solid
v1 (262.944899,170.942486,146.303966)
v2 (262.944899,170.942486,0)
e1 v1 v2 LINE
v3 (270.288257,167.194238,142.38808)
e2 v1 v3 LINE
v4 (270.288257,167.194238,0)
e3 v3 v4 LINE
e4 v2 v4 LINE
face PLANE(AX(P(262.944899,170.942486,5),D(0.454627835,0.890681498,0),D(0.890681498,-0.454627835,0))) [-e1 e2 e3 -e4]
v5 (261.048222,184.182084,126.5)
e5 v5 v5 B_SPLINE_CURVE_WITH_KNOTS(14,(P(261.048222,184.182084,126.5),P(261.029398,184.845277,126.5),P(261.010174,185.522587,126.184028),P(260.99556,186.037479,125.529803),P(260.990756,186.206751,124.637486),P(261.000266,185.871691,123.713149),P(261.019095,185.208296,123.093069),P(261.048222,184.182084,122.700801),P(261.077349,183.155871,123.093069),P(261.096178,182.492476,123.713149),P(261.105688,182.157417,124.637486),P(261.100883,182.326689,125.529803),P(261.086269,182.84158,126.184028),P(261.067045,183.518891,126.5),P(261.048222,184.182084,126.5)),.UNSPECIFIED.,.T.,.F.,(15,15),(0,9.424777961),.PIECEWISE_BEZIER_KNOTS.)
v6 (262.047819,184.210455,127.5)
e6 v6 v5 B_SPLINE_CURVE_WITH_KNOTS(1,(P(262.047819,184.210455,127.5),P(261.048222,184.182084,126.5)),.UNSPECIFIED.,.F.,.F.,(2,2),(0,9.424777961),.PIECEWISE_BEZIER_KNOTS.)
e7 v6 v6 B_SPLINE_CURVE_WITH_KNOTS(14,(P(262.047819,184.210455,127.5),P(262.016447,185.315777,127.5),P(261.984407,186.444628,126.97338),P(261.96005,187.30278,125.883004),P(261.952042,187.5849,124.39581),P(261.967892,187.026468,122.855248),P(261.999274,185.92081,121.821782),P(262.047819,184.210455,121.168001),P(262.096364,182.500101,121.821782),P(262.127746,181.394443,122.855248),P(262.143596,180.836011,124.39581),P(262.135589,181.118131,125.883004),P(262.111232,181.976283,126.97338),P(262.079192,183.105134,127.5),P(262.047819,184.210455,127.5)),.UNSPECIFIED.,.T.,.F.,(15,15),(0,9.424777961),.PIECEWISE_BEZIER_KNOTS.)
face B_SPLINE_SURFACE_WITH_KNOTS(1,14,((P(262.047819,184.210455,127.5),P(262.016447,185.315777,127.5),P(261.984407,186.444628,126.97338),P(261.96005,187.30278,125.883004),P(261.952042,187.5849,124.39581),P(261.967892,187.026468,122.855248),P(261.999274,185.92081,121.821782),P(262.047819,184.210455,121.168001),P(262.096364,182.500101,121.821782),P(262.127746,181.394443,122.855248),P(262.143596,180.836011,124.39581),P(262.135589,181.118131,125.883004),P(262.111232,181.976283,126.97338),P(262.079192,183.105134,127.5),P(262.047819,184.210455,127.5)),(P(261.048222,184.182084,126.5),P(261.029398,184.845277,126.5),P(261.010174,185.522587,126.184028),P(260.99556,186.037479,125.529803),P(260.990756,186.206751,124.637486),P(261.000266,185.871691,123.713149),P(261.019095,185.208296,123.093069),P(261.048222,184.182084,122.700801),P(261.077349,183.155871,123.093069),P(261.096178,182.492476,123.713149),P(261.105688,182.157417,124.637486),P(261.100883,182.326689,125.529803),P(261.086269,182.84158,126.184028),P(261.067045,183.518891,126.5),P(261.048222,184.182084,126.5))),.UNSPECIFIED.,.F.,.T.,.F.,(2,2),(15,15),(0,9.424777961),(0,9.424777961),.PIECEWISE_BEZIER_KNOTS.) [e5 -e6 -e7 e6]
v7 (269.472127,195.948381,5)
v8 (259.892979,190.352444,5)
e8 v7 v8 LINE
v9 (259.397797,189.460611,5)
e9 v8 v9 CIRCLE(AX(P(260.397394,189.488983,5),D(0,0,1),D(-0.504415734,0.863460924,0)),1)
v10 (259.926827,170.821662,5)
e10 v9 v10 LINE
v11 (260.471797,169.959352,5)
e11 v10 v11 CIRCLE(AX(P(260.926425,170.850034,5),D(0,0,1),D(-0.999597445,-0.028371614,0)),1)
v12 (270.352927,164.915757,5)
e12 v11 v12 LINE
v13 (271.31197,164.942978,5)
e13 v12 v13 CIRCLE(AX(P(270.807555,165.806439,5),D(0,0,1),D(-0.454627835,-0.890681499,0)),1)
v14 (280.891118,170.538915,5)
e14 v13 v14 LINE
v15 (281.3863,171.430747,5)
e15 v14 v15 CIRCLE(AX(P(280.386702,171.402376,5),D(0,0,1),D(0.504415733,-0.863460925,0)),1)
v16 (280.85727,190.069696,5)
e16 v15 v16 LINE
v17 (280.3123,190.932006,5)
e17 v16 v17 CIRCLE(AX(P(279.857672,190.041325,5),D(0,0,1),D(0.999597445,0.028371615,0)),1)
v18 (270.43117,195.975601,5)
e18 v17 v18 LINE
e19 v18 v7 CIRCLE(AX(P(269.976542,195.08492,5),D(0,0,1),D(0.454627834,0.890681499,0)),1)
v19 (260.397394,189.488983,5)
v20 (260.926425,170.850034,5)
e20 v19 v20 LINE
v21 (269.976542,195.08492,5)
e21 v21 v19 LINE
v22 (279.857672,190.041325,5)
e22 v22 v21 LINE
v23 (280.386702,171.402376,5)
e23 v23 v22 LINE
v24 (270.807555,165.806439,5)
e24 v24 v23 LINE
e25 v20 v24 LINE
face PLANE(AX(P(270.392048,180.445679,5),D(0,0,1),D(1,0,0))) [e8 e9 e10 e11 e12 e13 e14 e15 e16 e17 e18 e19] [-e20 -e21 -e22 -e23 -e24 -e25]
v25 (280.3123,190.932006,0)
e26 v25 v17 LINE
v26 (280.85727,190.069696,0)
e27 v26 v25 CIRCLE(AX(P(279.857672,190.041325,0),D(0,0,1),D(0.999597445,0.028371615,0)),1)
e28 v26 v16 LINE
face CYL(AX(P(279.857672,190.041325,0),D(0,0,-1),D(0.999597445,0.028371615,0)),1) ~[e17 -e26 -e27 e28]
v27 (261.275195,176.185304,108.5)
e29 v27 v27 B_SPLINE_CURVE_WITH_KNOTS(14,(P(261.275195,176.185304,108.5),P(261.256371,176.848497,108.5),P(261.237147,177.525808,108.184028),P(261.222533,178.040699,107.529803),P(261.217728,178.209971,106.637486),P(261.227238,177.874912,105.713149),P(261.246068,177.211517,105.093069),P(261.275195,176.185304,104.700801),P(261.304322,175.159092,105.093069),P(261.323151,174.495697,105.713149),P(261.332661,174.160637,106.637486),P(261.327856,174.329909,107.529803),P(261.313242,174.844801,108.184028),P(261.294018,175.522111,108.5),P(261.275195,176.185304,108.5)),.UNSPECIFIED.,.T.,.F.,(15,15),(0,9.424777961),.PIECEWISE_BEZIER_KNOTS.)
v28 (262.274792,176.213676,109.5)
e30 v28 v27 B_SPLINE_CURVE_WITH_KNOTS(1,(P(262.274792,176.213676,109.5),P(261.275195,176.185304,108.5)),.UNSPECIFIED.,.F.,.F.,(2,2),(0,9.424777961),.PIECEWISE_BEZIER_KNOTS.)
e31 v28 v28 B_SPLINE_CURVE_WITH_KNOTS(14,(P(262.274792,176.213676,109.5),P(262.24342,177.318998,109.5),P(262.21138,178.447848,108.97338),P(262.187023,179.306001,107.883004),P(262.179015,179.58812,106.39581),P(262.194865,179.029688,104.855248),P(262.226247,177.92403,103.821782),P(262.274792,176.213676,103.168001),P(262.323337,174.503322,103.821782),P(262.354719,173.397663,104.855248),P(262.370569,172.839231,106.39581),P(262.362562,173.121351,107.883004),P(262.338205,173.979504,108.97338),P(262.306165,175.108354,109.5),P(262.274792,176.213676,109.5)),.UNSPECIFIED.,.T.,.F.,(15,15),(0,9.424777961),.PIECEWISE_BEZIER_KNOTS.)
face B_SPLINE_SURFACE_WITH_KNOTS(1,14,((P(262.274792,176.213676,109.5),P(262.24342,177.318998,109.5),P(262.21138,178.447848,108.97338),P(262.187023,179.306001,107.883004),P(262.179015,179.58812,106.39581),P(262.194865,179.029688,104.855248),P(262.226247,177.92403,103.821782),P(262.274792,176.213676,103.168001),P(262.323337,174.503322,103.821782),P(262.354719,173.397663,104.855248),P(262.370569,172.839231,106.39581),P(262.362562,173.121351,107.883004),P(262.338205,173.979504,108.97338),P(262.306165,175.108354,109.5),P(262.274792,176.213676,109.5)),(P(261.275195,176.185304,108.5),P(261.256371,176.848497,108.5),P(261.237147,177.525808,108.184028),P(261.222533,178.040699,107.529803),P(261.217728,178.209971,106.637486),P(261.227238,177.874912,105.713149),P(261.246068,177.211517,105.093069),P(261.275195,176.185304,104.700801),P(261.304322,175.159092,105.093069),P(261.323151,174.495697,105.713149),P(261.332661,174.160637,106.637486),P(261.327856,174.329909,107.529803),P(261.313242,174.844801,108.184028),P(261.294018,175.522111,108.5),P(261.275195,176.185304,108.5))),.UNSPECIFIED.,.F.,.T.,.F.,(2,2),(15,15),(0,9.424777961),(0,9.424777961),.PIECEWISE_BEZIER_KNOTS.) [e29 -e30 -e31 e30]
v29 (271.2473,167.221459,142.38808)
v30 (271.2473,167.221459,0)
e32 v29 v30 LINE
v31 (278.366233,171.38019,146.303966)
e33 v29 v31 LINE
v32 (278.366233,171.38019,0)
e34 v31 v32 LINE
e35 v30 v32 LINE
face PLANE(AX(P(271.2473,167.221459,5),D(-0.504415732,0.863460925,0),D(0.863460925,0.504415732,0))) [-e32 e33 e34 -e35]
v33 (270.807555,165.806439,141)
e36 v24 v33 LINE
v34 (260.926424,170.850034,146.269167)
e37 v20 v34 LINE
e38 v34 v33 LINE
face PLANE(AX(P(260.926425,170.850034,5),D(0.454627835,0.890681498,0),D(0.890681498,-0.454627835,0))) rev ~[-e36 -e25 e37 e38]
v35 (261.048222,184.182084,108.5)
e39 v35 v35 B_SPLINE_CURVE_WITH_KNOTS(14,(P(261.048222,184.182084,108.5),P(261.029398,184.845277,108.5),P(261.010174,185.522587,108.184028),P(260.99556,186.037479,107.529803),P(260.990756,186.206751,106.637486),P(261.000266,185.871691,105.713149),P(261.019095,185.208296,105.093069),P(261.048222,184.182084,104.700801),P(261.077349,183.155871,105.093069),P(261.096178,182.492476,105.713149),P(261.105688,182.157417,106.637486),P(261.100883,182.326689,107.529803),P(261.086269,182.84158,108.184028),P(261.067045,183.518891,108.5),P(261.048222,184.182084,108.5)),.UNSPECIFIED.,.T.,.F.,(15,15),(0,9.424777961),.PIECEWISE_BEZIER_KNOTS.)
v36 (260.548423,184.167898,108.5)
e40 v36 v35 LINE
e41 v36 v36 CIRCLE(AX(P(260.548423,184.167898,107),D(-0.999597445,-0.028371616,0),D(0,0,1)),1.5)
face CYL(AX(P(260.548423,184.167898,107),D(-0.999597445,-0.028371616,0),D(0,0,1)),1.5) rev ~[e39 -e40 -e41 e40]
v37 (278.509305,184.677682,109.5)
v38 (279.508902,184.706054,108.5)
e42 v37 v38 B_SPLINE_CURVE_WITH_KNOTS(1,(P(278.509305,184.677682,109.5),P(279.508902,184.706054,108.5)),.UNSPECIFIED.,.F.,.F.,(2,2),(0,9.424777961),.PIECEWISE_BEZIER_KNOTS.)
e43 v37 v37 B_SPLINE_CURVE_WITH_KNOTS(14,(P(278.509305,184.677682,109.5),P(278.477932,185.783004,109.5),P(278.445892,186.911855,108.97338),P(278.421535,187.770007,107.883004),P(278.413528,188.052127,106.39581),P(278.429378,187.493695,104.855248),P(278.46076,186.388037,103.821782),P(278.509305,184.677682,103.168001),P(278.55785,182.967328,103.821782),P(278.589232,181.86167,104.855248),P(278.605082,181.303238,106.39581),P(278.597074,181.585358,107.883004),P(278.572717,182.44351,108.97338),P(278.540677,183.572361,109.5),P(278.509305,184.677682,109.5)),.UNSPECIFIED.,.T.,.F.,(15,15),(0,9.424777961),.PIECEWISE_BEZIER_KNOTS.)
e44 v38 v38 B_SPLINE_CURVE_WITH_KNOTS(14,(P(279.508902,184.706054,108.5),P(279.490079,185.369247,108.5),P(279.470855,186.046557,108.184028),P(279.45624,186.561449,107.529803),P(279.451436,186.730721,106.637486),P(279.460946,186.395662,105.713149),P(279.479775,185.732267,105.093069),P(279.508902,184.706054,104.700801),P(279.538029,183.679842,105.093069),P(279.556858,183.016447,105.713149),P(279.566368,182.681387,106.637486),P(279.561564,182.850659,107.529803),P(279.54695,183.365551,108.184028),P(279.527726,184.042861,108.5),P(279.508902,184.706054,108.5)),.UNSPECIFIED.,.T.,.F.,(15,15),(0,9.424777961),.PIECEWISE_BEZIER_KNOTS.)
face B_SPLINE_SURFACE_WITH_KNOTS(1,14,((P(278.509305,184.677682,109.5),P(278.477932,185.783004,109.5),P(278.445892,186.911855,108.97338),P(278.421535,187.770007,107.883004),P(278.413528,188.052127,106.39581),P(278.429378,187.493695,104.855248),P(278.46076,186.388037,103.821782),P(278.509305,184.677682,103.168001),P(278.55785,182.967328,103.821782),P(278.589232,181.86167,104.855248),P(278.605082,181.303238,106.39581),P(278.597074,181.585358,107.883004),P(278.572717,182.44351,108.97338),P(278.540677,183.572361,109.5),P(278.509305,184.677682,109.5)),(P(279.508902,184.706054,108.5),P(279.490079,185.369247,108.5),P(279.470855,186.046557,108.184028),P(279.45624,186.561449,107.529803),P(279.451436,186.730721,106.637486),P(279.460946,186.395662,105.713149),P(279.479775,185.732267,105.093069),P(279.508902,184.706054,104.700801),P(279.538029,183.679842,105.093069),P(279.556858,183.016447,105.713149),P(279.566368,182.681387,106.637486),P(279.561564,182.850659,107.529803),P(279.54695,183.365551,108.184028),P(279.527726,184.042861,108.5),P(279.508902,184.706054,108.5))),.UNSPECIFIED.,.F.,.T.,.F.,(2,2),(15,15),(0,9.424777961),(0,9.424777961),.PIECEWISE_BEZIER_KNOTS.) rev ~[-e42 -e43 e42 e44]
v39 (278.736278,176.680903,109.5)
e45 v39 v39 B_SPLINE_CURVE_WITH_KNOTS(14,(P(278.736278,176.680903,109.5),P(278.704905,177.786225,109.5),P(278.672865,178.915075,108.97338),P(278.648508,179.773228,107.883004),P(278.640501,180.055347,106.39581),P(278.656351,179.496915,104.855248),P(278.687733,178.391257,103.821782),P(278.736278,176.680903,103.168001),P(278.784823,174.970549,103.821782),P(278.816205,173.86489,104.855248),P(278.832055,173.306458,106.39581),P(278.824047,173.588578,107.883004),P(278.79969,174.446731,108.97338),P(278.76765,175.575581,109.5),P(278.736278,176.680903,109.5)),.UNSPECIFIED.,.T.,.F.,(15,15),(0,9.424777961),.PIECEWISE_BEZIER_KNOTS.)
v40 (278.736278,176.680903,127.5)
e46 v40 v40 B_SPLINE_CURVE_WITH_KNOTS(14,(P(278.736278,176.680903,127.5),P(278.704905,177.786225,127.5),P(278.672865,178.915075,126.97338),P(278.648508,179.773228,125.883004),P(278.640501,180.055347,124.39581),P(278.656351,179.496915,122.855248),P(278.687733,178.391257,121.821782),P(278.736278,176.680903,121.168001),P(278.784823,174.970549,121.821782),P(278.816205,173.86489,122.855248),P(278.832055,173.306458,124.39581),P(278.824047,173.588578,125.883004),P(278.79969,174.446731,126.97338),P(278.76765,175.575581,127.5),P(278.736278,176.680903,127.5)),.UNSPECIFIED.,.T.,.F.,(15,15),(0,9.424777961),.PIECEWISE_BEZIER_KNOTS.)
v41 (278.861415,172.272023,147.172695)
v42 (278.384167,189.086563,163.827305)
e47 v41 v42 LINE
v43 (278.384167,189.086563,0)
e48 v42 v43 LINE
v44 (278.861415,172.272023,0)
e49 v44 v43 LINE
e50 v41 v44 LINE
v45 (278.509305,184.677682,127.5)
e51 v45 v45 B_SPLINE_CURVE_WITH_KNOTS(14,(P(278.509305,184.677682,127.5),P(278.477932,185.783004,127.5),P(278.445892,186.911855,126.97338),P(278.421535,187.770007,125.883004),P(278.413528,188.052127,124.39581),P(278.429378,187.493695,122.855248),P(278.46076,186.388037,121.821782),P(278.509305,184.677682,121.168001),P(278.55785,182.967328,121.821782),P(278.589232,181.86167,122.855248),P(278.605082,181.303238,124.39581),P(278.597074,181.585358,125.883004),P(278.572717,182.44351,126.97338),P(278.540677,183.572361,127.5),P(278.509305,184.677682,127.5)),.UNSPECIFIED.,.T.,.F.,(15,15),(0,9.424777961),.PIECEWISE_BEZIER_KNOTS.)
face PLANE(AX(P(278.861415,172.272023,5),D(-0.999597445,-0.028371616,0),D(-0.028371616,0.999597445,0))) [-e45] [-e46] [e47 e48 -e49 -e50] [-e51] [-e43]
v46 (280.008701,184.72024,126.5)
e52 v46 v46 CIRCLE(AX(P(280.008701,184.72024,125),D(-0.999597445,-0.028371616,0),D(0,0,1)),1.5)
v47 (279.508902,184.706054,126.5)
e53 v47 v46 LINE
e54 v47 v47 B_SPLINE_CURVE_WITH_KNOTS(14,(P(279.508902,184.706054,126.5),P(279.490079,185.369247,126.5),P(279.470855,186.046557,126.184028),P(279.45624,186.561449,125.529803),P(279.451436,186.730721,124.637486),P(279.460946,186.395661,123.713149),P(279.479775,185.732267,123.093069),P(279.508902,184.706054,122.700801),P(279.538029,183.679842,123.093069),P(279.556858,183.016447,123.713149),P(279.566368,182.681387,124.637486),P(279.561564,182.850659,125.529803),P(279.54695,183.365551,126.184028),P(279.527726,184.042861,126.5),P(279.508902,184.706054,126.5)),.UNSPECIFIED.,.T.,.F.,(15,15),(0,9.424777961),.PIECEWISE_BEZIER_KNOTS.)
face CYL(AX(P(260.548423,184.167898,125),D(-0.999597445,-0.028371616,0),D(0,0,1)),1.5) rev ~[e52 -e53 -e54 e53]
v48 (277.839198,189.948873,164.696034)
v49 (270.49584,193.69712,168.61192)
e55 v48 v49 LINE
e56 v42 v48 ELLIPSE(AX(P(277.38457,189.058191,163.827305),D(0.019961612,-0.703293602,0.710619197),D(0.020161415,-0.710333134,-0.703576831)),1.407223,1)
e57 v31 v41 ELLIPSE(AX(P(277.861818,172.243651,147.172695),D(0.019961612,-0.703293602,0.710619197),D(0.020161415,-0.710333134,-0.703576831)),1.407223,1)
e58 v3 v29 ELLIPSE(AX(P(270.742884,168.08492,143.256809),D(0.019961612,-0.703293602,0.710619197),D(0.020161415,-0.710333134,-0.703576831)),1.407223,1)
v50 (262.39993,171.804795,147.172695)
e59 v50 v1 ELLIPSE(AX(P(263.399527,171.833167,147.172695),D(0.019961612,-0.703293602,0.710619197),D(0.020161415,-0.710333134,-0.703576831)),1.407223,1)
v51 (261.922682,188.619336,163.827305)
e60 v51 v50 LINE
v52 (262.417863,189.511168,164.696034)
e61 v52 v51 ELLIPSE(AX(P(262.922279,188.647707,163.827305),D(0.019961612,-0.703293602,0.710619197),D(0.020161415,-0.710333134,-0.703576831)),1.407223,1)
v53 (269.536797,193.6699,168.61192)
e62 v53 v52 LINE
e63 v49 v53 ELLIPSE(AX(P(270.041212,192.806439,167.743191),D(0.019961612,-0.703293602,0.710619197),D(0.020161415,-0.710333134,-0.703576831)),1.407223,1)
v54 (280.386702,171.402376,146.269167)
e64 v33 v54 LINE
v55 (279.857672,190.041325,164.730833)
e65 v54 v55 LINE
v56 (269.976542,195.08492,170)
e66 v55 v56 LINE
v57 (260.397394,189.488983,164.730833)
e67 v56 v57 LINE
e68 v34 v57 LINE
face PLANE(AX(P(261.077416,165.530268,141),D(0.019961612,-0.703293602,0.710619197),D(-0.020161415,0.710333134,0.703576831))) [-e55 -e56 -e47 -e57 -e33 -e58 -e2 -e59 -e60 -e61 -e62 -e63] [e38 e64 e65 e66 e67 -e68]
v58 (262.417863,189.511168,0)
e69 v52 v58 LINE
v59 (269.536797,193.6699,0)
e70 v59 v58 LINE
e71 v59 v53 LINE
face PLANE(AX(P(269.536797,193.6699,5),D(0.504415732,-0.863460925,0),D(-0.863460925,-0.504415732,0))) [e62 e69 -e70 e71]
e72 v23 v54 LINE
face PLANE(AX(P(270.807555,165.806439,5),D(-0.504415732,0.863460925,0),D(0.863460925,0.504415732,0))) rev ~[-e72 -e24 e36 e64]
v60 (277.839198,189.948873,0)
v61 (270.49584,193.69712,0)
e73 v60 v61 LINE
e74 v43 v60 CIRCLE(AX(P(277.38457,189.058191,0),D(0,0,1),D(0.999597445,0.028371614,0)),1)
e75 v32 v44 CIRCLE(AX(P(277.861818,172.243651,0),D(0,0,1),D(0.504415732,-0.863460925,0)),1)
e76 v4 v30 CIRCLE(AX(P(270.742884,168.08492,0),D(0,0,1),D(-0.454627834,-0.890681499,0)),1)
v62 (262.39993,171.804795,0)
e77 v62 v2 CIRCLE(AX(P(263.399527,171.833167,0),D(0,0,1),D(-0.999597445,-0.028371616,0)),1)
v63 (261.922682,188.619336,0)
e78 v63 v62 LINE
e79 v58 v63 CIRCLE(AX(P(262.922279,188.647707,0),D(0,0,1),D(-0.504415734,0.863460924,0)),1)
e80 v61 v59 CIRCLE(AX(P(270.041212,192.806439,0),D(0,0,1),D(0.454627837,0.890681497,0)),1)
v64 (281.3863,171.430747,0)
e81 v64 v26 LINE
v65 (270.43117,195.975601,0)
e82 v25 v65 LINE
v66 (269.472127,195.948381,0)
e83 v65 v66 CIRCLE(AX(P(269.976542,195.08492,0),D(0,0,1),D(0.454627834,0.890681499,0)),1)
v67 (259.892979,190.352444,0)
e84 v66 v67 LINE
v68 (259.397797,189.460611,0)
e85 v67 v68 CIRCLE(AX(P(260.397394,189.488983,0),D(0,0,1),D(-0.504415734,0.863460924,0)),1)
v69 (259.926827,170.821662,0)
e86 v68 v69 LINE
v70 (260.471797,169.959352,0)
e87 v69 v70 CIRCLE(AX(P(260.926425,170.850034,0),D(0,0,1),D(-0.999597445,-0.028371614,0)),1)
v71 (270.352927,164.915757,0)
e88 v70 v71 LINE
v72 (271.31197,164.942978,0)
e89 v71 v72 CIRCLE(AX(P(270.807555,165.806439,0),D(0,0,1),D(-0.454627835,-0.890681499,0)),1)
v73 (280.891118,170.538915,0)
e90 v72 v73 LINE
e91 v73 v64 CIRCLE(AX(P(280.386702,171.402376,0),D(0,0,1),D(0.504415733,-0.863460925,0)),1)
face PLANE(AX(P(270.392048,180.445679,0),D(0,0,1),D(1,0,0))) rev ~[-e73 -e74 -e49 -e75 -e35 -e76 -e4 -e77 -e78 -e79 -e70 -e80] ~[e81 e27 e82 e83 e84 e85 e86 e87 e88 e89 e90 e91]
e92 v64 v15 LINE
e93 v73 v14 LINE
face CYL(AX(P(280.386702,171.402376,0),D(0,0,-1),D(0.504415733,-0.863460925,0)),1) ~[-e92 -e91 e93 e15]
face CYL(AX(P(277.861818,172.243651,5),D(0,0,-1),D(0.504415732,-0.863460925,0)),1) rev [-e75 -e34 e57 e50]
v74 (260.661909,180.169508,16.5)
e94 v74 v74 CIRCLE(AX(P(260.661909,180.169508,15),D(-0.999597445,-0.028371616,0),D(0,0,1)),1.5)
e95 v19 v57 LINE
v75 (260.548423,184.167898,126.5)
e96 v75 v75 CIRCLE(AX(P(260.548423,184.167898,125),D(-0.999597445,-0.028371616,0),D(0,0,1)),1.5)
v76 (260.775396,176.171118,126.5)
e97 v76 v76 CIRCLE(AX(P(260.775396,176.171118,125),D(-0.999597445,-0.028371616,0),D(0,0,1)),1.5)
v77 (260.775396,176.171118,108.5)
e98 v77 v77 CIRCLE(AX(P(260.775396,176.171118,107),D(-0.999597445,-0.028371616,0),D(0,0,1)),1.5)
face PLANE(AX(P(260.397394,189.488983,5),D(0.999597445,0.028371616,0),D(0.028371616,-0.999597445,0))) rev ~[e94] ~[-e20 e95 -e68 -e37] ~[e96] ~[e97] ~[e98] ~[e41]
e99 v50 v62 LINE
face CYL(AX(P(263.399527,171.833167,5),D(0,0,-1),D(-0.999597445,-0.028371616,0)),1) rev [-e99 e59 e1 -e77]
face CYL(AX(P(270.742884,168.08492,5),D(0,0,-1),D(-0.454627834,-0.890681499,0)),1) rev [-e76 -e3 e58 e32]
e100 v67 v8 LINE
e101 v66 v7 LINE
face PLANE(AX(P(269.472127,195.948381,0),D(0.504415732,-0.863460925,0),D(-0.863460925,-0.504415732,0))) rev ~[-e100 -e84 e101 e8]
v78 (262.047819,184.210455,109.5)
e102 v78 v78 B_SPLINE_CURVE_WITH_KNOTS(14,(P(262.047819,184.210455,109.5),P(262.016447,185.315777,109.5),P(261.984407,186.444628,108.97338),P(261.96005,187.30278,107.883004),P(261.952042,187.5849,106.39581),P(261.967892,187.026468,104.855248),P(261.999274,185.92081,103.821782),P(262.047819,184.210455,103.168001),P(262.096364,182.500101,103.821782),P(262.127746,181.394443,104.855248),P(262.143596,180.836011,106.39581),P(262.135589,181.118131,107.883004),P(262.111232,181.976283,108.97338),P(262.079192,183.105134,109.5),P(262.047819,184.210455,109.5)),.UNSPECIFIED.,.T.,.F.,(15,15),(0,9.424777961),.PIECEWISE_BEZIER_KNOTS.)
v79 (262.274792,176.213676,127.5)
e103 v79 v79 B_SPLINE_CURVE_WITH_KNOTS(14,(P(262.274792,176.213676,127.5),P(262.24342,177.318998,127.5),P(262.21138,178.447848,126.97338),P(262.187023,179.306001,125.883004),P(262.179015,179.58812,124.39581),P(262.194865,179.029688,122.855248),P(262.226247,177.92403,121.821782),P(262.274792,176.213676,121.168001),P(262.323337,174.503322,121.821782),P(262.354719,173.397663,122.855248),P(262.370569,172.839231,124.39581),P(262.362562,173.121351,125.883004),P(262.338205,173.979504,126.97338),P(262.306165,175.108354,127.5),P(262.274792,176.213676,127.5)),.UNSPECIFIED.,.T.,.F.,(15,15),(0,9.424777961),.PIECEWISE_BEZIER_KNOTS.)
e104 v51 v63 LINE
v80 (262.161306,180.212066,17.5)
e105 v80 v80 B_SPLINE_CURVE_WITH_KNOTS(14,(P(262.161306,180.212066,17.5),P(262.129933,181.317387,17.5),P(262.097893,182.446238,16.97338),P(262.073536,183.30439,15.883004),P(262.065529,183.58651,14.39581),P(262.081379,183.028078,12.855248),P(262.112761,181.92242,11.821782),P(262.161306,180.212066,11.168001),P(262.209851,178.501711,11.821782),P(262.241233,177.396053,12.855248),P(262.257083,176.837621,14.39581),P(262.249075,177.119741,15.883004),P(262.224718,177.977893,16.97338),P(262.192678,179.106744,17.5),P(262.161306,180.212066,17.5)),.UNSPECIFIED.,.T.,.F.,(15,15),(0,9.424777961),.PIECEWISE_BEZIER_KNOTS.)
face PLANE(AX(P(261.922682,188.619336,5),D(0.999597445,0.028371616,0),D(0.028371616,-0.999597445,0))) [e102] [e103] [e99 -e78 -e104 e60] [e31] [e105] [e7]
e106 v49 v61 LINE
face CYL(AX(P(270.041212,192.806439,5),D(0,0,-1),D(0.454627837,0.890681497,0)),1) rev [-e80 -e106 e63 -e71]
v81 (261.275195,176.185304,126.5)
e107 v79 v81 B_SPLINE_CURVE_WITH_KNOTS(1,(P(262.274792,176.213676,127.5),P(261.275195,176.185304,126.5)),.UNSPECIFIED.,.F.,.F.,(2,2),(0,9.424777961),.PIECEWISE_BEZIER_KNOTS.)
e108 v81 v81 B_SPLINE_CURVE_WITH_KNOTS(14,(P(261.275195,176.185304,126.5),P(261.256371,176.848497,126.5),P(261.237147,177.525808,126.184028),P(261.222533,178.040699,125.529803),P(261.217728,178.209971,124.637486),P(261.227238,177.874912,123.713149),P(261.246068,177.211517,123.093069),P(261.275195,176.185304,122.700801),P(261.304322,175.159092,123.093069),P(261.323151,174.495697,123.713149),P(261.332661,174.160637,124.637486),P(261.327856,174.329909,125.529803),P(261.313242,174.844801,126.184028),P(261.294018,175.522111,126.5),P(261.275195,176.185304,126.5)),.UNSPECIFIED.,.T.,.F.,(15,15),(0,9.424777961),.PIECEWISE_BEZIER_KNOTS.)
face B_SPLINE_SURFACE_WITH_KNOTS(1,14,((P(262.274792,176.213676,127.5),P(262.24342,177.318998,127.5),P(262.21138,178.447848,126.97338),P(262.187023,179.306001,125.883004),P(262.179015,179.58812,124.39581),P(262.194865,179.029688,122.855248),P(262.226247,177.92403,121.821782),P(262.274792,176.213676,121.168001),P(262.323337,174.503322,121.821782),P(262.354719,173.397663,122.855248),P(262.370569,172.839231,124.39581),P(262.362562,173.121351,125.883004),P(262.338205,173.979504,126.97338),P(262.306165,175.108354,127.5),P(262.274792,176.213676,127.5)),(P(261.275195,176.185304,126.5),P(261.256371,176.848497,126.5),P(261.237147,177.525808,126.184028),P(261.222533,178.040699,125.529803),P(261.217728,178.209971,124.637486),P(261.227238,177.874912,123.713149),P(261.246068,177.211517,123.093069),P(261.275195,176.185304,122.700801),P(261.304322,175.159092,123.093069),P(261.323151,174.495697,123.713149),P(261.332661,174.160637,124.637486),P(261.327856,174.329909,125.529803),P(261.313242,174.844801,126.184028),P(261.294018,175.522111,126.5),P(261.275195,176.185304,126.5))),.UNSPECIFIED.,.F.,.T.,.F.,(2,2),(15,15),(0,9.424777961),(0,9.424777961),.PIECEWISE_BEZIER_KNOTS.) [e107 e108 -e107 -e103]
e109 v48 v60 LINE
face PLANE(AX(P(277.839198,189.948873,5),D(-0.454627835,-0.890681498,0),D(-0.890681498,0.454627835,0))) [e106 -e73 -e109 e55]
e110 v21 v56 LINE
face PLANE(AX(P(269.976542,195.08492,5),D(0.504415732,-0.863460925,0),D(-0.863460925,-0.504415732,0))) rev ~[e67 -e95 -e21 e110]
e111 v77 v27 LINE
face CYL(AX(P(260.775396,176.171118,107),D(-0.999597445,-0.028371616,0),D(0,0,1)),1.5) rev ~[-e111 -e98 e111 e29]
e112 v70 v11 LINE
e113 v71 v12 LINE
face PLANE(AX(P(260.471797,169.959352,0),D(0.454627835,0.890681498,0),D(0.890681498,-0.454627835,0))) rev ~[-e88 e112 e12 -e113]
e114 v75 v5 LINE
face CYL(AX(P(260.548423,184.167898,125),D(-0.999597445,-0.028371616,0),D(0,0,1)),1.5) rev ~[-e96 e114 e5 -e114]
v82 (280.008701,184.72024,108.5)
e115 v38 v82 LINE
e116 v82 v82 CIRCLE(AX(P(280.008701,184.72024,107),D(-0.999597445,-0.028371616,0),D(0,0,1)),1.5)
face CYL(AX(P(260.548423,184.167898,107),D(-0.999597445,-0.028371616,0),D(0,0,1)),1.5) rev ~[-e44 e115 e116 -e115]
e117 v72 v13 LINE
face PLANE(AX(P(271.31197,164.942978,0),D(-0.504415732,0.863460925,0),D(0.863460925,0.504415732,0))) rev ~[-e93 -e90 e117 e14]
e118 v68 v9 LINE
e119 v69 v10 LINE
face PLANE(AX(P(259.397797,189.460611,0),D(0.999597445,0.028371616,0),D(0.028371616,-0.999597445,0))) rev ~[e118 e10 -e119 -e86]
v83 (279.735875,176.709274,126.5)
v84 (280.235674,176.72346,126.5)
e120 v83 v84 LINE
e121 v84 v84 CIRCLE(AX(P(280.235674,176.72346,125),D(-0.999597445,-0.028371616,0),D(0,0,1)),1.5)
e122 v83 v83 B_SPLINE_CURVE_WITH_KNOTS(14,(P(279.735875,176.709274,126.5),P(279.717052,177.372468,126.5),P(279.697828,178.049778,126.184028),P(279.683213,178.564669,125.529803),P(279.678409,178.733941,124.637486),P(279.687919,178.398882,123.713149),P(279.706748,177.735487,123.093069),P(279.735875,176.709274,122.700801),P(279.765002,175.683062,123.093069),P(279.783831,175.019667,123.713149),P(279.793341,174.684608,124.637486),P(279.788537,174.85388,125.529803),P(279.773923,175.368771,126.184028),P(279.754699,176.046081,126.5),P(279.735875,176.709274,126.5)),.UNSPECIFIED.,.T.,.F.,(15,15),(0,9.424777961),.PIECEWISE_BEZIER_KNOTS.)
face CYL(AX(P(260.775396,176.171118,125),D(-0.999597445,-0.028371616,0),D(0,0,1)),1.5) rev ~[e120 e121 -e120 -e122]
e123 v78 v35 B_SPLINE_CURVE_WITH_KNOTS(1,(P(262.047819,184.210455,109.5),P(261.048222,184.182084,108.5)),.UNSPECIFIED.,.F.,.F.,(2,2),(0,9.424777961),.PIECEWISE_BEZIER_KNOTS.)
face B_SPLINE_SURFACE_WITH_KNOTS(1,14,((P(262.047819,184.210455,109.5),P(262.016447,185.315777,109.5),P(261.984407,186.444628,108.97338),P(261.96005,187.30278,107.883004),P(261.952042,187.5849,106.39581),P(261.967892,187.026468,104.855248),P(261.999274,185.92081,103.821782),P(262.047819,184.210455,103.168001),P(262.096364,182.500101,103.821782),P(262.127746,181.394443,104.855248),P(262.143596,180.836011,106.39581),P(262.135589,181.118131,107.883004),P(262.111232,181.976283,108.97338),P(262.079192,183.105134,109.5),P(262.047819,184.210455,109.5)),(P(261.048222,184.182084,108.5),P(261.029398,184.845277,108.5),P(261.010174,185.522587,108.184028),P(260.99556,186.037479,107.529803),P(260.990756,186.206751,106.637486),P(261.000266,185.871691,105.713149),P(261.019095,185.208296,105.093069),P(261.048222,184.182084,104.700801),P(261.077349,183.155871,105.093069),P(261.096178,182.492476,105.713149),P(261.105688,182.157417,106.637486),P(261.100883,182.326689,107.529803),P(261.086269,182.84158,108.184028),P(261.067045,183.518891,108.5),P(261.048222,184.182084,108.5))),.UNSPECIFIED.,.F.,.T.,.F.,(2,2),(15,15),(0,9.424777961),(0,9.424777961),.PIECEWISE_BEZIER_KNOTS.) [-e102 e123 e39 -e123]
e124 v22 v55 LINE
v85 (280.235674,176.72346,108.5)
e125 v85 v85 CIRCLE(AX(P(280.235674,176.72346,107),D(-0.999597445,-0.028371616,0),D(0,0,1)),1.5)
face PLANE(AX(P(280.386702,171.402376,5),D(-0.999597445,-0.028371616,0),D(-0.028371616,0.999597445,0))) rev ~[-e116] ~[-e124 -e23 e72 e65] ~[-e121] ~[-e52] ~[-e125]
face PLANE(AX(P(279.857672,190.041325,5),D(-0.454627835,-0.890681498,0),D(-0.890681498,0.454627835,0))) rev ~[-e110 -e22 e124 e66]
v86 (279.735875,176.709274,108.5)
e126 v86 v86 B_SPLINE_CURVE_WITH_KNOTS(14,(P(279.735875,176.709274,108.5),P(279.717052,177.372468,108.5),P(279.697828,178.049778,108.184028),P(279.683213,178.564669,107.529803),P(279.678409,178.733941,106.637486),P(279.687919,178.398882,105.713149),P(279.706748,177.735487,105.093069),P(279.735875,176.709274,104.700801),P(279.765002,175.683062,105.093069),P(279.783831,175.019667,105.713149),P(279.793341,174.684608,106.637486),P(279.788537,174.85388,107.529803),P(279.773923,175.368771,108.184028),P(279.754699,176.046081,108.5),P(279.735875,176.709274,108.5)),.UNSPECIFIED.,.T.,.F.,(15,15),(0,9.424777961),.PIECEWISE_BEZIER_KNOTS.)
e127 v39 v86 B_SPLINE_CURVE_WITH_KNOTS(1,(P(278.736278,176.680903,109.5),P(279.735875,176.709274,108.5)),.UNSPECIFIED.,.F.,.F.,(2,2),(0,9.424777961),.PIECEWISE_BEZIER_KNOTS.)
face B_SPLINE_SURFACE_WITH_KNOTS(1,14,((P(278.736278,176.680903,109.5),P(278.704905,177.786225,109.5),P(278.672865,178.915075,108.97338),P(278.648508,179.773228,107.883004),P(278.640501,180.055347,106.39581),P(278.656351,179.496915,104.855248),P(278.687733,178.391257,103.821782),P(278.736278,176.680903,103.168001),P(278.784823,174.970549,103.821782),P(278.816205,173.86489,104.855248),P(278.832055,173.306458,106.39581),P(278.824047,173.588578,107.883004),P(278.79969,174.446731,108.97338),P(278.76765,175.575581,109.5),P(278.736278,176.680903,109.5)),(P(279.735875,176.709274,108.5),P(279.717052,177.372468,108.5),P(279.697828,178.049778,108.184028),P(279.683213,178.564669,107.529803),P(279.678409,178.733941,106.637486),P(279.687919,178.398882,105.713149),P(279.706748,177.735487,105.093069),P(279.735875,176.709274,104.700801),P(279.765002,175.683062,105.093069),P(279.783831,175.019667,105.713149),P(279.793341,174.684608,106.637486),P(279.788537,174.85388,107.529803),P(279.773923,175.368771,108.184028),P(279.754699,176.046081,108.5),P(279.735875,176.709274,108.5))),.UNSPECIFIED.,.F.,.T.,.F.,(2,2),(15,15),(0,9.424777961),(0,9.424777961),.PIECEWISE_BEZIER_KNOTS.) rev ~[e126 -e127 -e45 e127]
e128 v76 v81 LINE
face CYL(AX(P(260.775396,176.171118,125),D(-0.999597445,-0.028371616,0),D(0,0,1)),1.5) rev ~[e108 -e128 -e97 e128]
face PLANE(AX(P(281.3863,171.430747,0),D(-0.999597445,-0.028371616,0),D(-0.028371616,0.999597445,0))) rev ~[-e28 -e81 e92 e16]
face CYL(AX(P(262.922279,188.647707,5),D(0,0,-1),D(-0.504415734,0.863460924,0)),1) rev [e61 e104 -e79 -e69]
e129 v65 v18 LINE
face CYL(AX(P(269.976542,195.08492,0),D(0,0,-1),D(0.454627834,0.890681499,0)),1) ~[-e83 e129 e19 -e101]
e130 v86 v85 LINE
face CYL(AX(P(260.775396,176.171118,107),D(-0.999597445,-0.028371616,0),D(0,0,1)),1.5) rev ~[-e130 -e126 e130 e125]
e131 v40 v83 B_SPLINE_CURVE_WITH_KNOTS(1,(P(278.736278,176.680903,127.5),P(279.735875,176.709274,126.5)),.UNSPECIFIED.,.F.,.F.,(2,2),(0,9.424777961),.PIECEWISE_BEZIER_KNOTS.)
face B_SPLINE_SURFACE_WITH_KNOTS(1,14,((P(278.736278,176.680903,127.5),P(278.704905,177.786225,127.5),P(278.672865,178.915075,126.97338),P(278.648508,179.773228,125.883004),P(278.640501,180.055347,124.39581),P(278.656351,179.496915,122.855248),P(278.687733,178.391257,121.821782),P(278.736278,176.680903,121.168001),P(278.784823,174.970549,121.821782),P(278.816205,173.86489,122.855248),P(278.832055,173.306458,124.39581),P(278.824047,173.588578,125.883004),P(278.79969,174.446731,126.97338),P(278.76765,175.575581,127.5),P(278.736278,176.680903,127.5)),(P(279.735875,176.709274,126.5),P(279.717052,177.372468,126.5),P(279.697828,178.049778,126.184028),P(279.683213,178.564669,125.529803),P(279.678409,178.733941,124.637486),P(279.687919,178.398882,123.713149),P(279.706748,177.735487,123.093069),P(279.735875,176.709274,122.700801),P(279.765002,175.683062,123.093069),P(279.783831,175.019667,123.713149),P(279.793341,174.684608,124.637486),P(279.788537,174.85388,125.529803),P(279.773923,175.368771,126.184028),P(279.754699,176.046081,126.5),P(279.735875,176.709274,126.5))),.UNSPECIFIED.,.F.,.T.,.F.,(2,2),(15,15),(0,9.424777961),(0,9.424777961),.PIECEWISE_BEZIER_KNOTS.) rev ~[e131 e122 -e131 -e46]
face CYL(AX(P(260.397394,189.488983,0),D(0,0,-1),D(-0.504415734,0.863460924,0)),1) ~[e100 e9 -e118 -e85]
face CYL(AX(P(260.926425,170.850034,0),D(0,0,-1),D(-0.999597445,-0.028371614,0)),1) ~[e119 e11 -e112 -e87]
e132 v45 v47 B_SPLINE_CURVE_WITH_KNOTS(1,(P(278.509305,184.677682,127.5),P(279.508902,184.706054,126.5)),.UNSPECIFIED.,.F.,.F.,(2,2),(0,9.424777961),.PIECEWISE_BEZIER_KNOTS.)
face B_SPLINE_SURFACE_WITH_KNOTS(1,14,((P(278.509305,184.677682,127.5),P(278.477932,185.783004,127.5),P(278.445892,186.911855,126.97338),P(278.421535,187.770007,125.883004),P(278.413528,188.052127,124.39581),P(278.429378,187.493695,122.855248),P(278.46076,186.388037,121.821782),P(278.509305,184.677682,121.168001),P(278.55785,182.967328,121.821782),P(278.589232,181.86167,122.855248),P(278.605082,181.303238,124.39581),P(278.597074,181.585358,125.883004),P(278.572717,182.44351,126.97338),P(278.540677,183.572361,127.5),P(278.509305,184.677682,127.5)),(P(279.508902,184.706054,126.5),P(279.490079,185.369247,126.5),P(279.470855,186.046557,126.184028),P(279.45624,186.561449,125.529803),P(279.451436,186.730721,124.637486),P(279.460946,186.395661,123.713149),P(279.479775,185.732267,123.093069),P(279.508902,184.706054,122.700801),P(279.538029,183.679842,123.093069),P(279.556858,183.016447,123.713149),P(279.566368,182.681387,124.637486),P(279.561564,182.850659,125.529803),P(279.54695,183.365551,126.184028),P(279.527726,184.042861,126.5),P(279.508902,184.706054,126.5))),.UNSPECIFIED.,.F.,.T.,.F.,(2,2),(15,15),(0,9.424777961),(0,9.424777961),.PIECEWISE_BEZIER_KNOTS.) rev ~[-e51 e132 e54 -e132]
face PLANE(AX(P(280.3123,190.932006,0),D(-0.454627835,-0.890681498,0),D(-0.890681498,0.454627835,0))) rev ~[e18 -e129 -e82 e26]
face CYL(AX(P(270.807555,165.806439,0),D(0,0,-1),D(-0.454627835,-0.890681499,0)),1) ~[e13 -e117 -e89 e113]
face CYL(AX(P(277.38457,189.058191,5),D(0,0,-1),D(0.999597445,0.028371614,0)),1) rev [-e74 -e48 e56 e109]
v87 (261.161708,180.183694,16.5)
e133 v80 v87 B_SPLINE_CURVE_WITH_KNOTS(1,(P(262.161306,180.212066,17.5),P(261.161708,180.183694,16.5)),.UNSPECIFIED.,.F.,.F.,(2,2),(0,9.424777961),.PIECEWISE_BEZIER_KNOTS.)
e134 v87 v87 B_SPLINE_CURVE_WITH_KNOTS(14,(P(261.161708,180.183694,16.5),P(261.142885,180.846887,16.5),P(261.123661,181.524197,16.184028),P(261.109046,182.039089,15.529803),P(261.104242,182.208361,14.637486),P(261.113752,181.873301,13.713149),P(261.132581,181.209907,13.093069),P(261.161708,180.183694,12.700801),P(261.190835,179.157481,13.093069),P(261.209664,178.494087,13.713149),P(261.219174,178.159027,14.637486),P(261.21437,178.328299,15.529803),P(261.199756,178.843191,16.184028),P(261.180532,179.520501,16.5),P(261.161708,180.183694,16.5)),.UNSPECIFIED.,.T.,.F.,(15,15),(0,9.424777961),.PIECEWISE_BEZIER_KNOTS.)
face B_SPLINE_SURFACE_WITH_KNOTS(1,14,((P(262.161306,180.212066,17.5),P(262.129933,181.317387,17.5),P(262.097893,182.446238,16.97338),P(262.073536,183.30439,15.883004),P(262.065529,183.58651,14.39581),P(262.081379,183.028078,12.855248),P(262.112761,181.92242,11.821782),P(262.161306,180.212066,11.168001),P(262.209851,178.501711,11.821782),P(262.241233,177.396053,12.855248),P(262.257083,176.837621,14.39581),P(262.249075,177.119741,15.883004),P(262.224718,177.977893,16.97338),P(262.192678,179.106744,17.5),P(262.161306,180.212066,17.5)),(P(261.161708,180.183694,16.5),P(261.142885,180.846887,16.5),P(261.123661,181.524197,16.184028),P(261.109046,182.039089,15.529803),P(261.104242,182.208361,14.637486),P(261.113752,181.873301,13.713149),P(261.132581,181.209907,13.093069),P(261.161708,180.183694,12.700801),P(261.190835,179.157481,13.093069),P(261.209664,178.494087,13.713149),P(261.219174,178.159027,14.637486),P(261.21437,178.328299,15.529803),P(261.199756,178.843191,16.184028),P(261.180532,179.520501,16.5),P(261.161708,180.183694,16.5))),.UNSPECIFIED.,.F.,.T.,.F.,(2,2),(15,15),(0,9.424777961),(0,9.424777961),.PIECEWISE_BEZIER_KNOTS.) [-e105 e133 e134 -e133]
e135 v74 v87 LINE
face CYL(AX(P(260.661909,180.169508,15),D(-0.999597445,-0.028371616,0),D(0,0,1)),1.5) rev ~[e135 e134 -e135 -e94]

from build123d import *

# Parameters (mm, degrees)
BOSS_EXTRUDE1_DEPTH = 5
BOSS_EXTRUDE2_DEPTH = 165
SKETCH3_R           = 1.5
CUT_EXTRUDE1_DEPTH  = 165
SKETCH4_R           = 1.5
CUT_EXTRUDE2_DEPTH  = 3
CHAMFER1_SIZE       = 1


with BuildPart() as part:
    # Sketch1 → Boss-Extrude1 (new body)
    with BuildSketch(Plane.XY):
        with BuildLine():
            Line((269.472126518, 195.948380571), (259.892978717, 190.352443674))
            ThreePointArc((259.892978717, 190.352443674), (259.523120334, 189.974415309), (259.397797004, 189.460611133))
            Line((259.397797004, 189.460611133), (259.926827069, 170.821662041))
            ThreePointArc((259.926827069, 170.821662041), (260.081091813, 170.315793424), (260.471796679, 169.959352158))
            Line((260.471796679, 169.959352158), (270.352926754, 164.915757134))
            ThreePointArc((270.352926754, 164.915757134), (270.835926205, 164.806841188), (271.311970321, 164.942977708))
            Line((271.311970321, 164.942977708), (280.891118122, 170.538914605))
            ThreePointArc((280.891118122, 170.538914605), (281.260976505, 170.916942969), (281.386299835, 171.430747146))
            Line((281.386299835, 171.430747146), (280.85726977, 190.069696238))
            ThreePointArc((280.85726977, 190.069696238), (280.703005026, 190.575564854), (280.31230016, 190.93200612))
            Line((280.31230016, 190.93200612), (270.431170085, 195.975601144))
            ThreePointArc((270.431170085, 195.975601144), (269.948170634, 196.08451709), (269.472126518, 195.948380571))
        make_face()
        with BuildLine():
            Line((269.536796739, 193.669899558), (262.417863464, 189.511168301))
            ThreePointArc((262.417863464, 189.511168301), (262.048005081, 189.133139936), (261.922681752, 188.61933576))
            Line((261.922681752, 188.61933576), (262.399929545, 171.804795492))
            ThreePointArc((262.399929545, 171.804795492), (262.554194289, 171.298926876), (262.944899155, 170.942485609))
            Line((262.944899155, 170.942485609), (270.288256533, 167.194238147))
            ThreePointArc((270.288256533, 167.194238147), (270.771255984, 167.085322201), (271.2473001, 167.22145872))
            Line((271.2473001, 167.22145872), (278.366233375, 171.380189978))
            ThreePointArc((278.366233375, 171.380189978), (278.736091758, 171.758218342), (278.861415087, 172.272022518))
            Line((278.861415087, 172.272022518), (278.384167294, 189.086562786))
            ThreePointArc((278.384167294, 189.086562786), (278.22990255, 189.592431403), (277.839197684, 189.948872669))
            Line((277.839197684, 189.948872669), (270.495840306, 193.697120131))
            ThreePointArc((270.495840306, 193.697120131), (270.012840855, 193.806036078), (269.536796739, 193.669899558))
        make_face(mode=Mode.SUBTRACT)
    extrude(amount=BOSS_EXTRUDE1_DEPTH)

    # Sketch2 → Boss-Extrude2 (add)
    with BuildSketch(Plane.XY.offset(5)):
        Polygon((279.857672325, 190.041324622), (269.97654225, 195.084919646), (260.397394449, 189.488982749), (260.926424514, 170.850033657), (270.807554589, 165.806438633), (280.38670239, 171.40237553), align=None)
        with BuildLine():
            Line((269.536796739, 193.669899558), (262.417863464, 189.511168301))
            ThreePointArc((262.417863464, 189.511168301), (262.048005081, 189.133139936), (261.922681752, 188.61933576))
            Line((261.922681752, 188.61933576), (262.399929545, 171.804795492))
            ThreePointArc((262.399929545, 171.804795492), (262.554194289, 171.298926876), (262.944899155, 170.942485609))
            Line((262.944899155, 170.942485609), (270.288256533, 167.194238147))
            ThreePointArc((270.288256533, 167.194238147), (270.771255984, 167.085322201), (271.2473001, 167.22145872))
            Line((271.2473001, 167.22145872), (278.366233375, 171.380189978))
            ThreePointArc((278.366233375, 171.380189978), (278.736091758, 171.758218342), (278.861415087, 172.272022518))
            Line((278.861415087, 172.272022518), (278.384167294, 189.086562786))
            ThreePointArc((278.384167294, 189.086562786), (278.22990255, 189.592431403), (277.839197684, 189.948872669))
            Line((277.839197684, 189.948872669), (270.495840306, 193.697120131))
            ThreePointArc((270.495840306, 193.697120131), (270.012840855, 193.806036078), (269.536796739, 193.669899558))
        make_face(mode=Mode.SUBTRACT)
    extrude(amount=BOSS_EXTRUDE2_DEPTH)

    # Sketch3 → Cut-Extrude1 (cut)
    with BuildSketch(Plane(origin=(265.561732352, 7.537449653, 0), x_dir=(0, 0, 1), z_dir=(-0.999597445, -0.028371616, 0))):
        with Locations((107, 176.701580488)):
            Circle(SKETCH3_R)
        with Locations((107, 168.701580488)):
            Circle(SKETCH3_R)
        with Locations((125, 176.701580488)):
            Circle(SKETCH3_R)
        with Locations((125, 168.701580488)):
            Circle(SKETCH3_R)
        Polygon((170, 187.346716472), (170, 158.056444505), (141, 158.056444505), align=None)
    extrude(amount=-CUT_EXTRUDE1_DEPTH, mode=Mode.SUBTRACT)

    # Sketch4 → Cut-Extrude2 (cut)
    with BuildSketch(Plane(origin=(265.561732352, 7.537449653, 0), x_dir=(0, 0, 1), z_dir=(-0.999597445, -0.028371616, 0))):
        with Locations((15, 172.701580488)):
            Circle(SKETCH4_R)
    extrude(amount=-CUT_EXTRUDE2_DEPTH, mode=Mode.SUBTRACT)

    # Chamfer1
    chamfer1_edges = [part.edges().sort_by_distance(p)[0] for p in [
        (262.274792111, 176.213675847, 105.5),
        (278.736277653, 176.680902874, 105.5),
        (262.047819186, 184.210455405, 123.5),
        (278.509304728, 184.677682431, 123.5),
        (262.274792111, 176.213675847, 123.5),
        (278.736277653, 176.680902874, 123.5),
        (262.047819186, 184.210455405, 105.5),
        (278.509304728, 184.677682431, 105.5),
        (262.161305648, 180.212065626, 13.5),
    ]]
    chamfer(chamfer1_edges, length=CHAMFER1_SIZE)


solid = part.part
